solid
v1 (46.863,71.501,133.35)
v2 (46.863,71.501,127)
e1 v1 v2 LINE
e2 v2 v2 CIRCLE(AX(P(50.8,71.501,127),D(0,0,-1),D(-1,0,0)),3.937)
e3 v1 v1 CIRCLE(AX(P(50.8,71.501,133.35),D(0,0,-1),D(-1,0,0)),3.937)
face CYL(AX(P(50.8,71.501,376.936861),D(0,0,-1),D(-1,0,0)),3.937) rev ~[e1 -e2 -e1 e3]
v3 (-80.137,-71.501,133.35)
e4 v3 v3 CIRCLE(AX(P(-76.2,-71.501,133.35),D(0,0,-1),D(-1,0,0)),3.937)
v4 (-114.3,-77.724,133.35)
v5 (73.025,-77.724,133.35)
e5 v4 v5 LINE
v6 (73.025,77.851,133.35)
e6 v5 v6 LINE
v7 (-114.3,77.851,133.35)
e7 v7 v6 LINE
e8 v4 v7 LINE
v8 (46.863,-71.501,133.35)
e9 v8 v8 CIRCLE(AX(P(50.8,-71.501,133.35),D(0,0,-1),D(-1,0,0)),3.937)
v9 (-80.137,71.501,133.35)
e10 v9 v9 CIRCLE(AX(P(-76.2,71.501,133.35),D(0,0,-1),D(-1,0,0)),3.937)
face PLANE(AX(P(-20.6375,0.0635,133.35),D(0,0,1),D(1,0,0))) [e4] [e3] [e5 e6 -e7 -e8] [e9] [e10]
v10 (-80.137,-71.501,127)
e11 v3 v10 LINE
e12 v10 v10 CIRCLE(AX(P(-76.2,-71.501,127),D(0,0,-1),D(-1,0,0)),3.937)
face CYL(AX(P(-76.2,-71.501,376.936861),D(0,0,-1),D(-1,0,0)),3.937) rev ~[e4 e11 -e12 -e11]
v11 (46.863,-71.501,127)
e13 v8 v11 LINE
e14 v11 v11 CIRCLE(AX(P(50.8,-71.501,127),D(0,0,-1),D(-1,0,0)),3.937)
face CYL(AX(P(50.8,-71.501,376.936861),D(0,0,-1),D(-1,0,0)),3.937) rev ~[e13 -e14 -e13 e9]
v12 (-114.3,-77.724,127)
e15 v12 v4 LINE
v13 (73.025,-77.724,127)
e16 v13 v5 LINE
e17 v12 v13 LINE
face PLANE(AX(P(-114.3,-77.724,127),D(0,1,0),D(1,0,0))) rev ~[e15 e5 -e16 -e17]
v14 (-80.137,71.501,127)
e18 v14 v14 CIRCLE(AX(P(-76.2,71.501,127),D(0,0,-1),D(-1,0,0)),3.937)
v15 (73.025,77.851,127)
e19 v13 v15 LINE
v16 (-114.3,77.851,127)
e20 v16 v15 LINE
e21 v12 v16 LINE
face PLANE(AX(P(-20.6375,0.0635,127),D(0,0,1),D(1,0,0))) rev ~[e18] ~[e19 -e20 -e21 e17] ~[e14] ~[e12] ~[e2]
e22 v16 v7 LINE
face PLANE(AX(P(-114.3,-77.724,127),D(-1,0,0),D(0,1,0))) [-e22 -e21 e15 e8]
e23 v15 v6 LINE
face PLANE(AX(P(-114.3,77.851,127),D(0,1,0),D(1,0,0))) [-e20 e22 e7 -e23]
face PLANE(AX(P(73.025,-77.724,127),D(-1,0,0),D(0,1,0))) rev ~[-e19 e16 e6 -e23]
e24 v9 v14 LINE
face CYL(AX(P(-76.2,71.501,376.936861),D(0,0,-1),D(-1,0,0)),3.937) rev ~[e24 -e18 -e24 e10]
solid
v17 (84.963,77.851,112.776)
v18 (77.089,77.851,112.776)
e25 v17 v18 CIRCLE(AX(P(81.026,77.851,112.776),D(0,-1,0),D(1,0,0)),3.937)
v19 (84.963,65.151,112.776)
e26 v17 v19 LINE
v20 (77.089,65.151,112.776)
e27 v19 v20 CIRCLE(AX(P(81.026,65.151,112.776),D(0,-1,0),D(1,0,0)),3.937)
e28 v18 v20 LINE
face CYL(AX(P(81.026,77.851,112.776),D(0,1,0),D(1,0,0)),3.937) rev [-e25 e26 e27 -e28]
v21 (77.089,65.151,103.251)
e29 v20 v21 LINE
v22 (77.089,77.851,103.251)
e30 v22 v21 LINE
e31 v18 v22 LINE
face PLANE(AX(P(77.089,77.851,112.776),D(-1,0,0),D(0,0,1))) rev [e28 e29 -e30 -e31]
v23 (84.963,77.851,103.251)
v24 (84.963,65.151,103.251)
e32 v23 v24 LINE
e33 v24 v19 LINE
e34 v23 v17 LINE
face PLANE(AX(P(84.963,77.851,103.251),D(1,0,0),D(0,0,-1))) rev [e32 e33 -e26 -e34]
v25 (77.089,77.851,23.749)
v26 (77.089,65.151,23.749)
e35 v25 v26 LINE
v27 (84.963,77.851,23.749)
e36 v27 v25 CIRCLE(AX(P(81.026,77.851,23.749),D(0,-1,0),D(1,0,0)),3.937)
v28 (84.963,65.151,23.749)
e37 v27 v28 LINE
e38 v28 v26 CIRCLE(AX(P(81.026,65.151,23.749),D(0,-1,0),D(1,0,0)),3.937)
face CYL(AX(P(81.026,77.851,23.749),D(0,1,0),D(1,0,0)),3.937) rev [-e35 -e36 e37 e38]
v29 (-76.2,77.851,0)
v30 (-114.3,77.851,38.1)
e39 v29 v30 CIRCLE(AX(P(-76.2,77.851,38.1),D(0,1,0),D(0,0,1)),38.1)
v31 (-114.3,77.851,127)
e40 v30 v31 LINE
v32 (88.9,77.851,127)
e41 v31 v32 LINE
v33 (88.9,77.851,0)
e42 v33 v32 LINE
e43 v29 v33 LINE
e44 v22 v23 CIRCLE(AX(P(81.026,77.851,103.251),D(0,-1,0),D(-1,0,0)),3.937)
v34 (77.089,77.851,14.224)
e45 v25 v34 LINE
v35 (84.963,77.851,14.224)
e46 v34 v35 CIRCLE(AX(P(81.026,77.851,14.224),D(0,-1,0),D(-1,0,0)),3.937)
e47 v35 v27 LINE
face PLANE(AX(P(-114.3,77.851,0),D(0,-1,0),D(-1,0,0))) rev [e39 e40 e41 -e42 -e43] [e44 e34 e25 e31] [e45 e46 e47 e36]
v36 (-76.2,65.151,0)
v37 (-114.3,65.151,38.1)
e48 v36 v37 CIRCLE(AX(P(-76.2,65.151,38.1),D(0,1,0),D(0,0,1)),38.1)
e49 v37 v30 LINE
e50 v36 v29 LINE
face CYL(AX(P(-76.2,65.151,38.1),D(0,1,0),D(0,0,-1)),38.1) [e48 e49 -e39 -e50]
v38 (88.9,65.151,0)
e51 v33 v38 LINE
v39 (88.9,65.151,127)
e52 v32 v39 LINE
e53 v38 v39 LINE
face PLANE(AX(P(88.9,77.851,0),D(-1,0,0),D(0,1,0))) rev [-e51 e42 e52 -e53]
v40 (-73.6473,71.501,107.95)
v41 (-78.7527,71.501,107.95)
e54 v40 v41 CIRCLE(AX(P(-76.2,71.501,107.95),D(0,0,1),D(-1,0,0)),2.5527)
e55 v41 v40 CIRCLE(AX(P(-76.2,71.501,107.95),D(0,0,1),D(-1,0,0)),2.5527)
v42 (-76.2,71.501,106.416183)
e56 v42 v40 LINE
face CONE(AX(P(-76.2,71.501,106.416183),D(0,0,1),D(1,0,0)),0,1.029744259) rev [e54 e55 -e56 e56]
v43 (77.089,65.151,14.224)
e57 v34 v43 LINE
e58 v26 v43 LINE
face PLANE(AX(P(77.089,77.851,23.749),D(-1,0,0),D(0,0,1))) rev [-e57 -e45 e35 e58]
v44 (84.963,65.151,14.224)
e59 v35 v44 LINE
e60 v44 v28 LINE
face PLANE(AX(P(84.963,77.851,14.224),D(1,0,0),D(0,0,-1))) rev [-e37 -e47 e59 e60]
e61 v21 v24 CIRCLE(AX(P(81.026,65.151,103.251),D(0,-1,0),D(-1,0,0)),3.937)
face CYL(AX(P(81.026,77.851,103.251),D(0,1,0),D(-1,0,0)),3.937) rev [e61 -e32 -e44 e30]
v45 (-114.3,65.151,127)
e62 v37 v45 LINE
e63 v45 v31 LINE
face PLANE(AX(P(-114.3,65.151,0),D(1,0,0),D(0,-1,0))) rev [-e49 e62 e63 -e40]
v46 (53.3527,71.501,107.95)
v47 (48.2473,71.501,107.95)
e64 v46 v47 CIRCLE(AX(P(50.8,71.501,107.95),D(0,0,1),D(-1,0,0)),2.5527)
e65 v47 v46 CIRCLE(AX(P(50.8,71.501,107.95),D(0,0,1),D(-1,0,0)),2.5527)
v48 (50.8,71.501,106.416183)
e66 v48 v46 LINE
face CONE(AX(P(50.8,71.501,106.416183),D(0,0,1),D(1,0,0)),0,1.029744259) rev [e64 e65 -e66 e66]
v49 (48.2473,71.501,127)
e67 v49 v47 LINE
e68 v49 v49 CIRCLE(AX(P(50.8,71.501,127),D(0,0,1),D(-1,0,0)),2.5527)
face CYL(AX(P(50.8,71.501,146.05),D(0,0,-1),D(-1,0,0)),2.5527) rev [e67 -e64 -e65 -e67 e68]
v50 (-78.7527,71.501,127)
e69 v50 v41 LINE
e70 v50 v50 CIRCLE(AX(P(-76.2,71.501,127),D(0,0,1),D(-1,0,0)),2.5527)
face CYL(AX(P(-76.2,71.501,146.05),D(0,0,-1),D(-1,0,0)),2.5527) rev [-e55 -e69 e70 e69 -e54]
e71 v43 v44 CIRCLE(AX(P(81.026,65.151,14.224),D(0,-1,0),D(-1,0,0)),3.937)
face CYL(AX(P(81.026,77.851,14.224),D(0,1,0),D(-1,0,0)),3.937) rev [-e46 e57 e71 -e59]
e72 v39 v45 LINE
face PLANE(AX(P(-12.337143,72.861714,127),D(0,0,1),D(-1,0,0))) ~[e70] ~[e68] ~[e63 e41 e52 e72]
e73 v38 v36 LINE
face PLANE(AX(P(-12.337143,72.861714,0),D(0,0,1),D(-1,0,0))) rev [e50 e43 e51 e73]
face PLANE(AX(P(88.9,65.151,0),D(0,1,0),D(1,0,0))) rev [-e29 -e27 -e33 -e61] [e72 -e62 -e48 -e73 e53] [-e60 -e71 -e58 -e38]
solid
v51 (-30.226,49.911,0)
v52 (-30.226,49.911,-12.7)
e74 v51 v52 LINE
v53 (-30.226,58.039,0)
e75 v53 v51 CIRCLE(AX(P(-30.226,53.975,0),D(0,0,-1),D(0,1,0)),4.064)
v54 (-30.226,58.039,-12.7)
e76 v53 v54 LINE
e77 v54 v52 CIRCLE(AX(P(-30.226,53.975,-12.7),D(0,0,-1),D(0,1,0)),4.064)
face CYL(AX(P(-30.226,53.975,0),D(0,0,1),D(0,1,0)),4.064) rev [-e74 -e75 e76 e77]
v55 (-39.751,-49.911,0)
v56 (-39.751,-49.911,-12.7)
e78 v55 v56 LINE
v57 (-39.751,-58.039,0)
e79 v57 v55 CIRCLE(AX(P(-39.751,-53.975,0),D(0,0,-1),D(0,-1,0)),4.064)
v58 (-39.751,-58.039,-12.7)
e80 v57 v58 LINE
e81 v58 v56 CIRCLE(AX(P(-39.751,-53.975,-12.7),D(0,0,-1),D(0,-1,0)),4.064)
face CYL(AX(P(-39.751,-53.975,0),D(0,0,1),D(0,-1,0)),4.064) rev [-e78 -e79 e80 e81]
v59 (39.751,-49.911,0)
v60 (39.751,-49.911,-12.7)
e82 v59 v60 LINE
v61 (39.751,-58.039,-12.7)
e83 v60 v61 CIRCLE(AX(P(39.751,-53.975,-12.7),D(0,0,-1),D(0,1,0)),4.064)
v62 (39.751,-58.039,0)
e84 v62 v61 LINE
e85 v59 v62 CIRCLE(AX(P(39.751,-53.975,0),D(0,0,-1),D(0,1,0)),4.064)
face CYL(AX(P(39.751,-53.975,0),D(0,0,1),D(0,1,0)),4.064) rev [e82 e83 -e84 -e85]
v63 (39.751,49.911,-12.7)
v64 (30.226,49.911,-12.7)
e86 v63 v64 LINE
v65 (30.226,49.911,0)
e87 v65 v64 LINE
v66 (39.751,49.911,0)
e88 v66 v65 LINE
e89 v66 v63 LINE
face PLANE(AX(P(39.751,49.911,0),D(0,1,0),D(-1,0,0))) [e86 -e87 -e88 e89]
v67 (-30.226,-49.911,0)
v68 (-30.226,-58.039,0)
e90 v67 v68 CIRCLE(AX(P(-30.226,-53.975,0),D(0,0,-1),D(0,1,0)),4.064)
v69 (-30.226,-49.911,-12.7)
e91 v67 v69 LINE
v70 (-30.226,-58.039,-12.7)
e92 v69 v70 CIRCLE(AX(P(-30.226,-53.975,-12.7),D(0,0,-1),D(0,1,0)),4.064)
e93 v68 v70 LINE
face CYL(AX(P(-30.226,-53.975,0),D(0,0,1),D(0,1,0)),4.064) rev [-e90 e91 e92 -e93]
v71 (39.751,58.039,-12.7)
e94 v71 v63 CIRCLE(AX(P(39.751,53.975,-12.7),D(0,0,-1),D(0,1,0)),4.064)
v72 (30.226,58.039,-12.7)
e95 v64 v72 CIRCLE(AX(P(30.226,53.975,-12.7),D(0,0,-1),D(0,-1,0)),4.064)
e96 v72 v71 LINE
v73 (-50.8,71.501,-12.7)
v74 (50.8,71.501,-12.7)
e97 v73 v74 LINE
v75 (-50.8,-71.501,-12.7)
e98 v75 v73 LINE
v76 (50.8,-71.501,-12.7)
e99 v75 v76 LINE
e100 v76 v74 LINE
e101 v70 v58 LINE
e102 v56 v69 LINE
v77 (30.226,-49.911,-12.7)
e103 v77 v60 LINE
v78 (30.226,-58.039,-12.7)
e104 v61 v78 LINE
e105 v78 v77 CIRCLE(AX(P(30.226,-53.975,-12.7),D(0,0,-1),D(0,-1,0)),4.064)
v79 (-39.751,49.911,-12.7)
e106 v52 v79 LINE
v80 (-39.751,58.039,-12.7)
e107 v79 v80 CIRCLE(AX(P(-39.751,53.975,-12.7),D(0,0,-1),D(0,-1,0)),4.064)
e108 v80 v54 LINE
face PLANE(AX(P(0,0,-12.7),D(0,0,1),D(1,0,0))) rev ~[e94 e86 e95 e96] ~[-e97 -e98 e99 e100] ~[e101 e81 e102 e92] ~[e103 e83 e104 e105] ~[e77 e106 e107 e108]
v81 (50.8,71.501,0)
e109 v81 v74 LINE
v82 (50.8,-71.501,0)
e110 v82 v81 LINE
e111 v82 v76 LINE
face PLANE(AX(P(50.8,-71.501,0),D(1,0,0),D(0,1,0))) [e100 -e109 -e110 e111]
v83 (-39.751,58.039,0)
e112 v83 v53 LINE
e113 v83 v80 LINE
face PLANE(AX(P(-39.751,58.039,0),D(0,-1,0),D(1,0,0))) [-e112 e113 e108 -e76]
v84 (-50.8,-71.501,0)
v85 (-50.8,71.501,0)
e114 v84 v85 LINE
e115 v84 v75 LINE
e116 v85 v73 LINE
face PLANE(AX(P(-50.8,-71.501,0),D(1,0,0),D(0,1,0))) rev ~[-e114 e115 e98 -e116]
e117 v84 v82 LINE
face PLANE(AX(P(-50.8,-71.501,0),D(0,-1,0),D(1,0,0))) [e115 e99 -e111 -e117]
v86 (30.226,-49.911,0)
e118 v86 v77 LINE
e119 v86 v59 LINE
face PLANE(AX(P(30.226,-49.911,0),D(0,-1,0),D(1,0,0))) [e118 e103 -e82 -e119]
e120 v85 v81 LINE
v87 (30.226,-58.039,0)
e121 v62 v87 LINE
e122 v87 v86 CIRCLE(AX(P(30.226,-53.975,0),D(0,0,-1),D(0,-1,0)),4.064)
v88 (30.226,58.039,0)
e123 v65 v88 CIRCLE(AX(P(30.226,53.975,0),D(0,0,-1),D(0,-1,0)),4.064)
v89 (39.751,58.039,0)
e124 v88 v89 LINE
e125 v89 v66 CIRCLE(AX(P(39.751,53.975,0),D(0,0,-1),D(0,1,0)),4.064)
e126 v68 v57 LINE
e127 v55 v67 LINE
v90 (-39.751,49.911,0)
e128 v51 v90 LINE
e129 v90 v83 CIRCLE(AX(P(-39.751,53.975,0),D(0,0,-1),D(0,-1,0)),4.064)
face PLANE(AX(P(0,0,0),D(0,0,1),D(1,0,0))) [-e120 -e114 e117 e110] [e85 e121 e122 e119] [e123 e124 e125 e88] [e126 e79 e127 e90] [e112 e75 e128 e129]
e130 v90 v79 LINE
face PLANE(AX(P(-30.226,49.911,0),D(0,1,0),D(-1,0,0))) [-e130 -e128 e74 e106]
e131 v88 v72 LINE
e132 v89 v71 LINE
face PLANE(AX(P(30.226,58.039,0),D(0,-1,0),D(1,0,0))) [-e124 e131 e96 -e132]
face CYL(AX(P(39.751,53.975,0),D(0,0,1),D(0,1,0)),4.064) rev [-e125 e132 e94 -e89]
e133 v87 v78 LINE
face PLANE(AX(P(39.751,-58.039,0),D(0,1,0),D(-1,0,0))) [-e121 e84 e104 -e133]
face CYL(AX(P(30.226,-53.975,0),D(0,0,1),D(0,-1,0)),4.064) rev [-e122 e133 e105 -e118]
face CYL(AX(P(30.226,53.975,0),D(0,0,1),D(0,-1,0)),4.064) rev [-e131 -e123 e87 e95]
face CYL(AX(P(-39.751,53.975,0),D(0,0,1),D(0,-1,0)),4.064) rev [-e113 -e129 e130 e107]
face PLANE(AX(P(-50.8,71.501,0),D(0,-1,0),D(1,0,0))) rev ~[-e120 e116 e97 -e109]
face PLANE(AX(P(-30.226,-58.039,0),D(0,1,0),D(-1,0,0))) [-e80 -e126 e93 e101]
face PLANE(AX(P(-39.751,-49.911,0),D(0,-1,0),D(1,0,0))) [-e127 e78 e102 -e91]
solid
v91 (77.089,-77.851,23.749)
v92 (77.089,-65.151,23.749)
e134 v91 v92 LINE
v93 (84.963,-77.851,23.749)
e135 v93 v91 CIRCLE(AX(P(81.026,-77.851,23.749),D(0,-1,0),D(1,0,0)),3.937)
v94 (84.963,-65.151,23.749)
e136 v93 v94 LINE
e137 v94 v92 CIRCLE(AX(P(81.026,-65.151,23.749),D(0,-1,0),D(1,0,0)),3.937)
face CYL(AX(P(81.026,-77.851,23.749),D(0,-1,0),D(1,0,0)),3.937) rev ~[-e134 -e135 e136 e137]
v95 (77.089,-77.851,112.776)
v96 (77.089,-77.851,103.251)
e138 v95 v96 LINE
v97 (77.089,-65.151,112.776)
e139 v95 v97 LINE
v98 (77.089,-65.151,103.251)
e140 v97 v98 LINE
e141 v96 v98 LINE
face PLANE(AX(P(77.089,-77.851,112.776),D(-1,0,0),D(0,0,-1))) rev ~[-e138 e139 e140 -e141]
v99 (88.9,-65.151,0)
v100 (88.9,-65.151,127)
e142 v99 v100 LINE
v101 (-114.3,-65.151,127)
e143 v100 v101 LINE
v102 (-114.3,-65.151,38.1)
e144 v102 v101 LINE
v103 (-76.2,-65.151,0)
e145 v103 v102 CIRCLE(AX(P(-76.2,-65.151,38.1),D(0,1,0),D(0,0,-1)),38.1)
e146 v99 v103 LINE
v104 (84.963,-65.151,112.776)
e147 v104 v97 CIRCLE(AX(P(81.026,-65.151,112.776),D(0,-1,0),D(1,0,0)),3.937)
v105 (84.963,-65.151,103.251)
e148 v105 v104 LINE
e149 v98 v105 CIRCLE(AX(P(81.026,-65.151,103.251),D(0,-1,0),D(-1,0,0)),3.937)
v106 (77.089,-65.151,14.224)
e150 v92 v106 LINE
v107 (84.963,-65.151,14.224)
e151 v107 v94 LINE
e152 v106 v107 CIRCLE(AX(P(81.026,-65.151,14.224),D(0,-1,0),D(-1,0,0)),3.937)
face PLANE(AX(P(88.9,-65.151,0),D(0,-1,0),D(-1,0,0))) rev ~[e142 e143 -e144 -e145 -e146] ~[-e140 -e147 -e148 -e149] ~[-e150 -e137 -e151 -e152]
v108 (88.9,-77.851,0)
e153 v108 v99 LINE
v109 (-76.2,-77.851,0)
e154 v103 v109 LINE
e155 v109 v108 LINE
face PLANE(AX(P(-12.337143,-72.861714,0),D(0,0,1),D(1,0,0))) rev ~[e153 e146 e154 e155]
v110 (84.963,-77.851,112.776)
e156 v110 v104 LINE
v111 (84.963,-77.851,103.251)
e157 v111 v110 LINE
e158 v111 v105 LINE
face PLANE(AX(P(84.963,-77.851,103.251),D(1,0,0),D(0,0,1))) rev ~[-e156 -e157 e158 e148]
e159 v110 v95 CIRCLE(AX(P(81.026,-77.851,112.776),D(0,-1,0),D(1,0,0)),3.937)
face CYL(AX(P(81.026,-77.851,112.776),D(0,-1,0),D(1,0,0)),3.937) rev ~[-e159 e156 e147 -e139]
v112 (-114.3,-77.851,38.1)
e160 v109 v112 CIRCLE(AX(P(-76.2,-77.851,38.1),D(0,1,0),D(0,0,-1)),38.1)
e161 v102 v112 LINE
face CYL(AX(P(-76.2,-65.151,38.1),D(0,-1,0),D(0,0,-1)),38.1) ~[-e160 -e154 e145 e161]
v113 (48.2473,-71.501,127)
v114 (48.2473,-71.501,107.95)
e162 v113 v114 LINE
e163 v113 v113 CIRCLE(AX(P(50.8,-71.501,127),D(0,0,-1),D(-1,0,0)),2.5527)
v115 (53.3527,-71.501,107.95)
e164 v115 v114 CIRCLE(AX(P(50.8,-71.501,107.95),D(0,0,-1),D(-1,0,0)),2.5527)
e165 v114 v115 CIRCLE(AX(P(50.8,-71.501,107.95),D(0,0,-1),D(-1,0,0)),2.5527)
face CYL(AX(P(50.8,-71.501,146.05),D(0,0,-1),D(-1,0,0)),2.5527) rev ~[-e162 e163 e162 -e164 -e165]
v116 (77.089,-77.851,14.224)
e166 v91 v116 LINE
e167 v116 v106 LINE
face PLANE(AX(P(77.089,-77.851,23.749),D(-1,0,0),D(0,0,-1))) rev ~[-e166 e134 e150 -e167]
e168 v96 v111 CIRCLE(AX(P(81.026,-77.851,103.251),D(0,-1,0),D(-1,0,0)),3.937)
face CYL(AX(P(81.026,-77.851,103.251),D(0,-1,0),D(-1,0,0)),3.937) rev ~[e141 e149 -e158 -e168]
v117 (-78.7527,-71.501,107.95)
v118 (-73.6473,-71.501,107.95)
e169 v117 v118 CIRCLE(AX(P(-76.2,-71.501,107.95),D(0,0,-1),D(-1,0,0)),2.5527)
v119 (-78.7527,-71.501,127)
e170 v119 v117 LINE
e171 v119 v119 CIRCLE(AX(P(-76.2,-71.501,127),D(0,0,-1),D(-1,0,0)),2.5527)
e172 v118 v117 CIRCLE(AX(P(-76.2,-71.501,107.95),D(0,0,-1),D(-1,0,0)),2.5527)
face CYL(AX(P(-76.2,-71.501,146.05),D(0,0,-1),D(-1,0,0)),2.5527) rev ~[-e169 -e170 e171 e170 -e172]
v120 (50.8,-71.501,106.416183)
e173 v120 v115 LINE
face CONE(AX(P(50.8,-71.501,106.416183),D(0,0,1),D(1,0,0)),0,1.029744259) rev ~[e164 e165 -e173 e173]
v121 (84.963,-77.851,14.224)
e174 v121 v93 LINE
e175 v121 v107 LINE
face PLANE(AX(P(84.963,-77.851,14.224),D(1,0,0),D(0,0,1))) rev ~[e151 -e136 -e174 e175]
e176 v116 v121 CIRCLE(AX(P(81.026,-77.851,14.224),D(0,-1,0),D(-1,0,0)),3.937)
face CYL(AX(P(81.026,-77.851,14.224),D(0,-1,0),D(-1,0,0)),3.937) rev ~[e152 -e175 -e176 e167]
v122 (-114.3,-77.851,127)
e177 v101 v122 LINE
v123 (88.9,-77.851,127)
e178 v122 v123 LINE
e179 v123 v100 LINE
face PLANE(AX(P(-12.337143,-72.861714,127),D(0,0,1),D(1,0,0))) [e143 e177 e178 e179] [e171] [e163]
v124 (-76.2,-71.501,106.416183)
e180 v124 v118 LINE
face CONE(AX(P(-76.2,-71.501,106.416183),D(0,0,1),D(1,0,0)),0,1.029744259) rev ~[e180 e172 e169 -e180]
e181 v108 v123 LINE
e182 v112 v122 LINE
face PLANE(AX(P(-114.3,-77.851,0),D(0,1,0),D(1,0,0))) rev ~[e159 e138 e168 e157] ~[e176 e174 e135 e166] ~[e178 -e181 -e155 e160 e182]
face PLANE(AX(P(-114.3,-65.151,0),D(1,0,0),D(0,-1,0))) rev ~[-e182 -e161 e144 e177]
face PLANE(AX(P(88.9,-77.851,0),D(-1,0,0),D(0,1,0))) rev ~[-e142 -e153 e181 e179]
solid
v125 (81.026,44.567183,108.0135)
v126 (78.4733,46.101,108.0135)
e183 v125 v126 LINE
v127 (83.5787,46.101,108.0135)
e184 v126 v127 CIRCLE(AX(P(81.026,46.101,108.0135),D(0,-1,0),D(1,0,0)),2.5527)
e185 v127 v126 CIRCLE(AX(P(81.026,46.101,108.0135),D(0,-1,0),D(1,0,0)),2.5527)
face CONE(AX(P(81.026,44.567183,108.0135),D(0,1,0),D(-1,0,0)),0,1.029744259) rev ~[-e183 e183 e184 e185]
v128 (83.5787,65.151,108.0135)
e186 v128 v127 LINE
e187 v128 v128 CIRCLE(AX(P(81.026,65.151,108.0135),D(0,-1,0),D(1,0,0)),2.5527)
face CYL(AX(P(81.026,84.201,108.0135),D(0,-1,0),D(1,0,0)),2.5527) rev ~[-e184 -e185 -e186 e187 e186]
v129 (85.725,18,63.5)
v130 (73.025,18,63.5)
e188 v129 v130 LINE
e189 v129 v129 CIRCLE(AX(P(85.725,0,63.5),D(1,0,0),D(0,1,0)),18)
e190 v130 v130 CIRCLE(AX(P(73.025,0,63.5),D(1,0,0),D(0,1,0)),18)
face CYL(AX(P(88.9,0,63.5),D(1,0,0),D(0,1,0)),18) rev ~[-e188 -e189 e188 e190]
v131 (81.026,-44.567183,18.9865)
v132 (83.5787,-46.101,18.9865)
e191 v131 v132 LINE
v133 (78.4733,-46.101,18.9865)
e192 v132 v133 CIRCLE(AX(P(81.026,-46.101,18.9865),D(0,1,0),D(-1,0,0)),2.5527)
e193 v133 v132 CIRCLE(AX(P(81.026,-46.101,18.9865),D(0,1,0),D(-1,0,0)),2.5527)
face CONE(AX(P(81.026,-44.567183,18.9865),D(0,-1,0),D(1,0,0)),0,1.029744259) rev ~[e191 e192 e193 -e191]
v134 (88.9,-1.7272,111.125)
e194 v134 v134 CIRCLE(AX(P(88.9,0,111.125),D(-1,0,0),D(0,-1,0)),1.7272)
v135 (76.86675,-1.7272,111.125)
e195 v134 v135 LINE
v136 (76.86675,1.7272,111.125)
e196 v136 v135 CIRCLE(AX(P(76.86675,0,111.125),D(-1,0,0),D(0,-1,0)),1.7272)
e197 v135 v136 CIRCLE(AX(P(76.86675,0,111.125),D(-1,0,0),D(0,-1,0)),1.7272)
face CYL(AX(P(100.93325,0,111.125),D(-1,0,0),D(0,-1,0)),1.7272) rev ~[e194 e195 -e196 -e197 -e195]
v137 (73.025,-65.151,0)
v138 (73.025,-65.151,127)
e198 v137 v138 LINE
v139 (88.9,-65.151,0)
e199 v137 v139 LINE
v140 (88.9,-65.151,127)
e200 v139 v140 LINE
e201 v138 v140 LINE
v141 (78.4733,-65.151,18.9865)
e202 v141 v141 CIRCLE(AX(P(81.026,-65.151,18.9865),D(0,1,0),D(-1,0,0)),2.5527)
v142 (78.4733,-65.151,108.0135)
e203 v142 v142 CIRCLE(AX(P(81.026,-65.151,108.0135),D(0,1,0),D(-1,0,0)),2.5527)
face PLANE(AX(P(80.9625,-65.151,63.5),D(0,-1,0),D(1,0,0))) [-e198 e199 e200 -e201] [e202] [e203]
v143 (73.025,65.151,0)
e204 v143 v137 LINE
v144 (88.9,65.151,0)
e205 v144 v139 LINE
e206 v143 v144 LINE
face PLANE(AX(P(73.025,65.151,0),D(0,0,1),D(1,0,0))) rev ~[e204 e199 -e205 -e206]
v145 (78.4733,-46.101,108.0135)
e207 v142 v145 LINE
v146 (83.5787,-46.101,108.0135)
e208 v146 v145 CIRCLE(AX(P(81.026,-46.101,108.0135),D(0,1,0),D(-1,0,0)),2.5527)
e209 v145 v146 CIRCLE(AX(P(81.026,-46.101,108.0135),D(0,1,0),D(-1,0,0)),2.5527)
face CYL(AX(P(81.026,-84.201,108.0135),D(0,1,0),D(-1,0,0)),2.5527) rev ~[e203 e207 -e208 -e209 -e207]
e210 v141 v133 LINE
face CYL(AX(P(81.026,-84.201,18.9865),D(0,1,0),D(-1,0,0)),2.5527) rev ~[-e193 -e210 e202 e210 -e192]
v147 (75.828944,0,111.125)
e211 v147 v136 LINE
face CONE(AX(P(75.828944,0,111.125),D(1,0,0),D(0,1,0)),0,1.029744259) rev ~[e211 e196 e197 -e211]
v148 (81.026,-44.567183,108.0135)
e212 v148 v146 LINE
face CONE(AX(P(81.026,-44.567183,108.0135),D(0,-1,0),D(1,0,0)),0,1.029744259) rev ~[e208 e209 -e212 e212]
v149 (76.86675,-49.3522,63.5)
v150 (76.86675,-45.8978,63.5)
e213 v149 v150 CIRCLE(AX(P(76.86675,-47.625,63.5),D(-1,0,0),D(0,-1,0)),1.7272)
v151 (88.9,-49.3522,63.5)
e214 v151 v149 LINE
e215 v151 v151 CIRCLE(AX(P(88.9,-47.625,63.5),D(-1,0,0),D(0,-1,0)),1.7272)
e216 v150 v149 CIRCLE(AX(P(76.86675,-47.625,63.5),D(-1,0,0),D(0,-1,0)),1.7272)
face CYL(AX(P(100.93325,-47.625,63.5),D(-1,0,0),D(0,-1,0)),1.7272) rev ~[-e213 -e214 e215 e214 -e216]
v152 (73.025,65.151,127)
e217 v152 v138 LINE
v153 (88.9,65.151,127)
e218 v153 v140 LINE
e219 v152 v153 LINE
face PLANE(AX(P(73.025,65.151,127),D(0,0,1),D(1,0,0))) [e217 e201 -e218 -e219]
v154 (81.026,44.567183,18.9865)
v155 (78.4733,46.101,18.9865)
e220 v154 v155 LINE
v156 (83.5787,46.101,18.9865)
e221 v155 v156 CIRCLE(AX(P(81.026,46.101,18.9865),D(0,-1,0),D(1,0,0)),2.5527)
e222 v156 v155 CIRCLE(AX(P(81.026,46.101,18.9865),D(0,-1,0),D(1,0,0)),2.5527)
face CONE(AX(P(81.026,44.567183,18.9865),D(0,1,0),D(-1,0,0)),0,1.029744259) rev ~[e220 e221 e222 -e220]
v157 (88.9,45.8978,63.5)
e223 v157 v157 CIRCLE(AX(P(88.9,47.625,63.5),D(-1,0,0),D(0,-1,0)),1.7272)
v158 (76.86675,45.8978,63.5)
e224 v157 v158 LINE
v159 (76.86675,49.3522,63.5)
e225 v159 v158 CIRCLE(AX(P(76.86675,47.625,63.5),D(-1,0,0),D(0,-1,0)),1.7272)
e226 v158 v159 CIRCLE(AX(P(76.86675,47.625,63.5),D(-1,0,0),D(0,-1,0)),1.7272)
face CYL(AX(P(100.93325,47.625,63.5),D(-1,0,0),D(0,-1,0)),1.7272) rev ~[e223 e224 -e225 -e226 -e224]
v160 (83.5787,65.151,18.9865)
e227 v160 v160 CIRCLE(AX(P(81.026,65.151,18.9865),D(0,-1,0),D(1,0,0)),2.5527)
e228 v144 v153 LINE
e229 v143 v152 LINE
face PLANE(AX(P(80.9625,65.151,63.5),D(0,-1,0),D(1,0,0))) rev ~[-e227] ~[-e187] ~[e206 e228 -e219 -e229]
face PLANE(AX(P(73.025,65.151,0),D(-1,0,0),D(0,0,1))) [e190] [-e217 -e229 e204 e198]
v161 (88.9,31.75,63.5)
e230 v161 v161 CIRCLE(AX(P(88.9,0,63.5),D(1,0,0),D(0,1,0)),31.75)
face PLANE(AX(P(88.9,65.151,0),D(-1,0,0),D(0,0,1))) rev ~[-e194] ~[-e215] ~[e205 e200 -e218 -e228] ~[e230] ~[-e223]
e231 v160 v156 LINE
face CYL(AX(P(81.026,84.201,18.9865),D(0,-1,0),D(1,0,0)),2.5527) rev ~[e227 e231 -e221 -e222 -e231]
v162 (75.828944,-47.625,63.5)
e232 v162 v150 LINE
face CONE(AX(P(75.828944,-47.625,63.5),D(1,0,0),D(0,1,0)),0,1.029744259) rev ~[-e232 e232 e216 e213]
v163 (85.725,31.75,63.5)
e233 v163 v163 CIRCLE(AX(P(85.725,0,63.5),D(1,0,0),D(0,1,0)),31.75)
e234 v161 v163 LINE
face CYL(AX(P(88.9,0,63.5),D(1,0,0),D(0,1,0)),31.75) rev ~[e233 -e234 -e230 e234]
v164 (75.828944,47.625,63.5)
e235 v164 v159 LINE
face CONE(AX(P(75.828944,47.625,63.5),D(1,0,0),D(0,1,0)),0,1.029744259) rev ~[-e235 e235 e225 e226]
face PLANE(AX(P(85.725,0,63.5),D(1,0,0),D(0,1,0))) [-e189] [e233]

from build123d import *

# Parameters (mm, degrees)
F0_W      = 101.6
F0_H      = 143.002
F1_DEPTH  = 12.7
F2_W      = 101.6
F2_H      = 6.35
F3_DEPTH  = 127
F5_D      = 5.1054
F5_DEPTH  = 19.05
F5_TIP    = 1.5338169022
F7_DEPTH  = 25.4
F9_W      = 187.325
F9_H      = 155.575
F10_DEPTH = 6.35
F12_D     = 7.874
F13_W     = 15.875
F13_H     = 127
F14_DEPTH = 130.302
F16_D     = 5.1054
F16_DEPTH = 19.05
F16_TIP   = 1.5338169022
F18_D     = 5.1054
F18_DEPTH = 19.05
F18_TIP   = 1.5338169022
F19_R     = 18
F20_DEPTH = 25.4
F21_R     = 31.75
F22_DEPTH = 3.175
F24_D     = 3.4544
F24_DEPTH = 12.03325
F24_TIP   = 1.0378064612
F25_R     = 38.1
F25_2_R   = 38.1


with BuildPart() as f1:
    # F0 (on Top) → F1 (new body)
    with BuildSketch(Plane.XY):
        Rectangle(F0_W, F0_H)
        with BuildLine():
            Line((-30.226, -58.039), (-39.751, -58.039))
            ThreePointArc((-39.751, -58.039), (-43.815, -53.975), (-39.751, -49.911))
            Line((-39.751, -49.911), (-30.226, -49.911))
            ThreePointArc((-30.226, -49.911), (-26.162, -53.975), (-30.226, -58.039))
        make_face(mode=Mode.SUBTRACT)
        with BuildLine():
            ThreePointArc((39.751, -49.911), (43.815, -53.975), (39.751, -58.039))
            Line((39.751, -58.039), (30.226, -58.039))
            ThreePointArc((30.226, -58.039), (26.162, -53.975), (30.226, -49.911))
            Line((30.226, -49.911), (39.751, -49.911))
        make_face(mode=Mode.SUBTRACT)
        with BuildLine():
            ThreePointArc((-39.751, 49.911), (-43.815, 53.975), (-39.751, 58.039))
            Line((-39.751, 58.039), (-30.226, 58.039))
            ThreePointArc((-30.226, 58.039), (-26.162, 53.975), (-30.226, 49.911))
            Line((-30.226, 49.911), (-39.751, 49.911))
        make_face(mode=Mode.SUBTRACT)
        with BuildLine():
            ThreePointArc((39.751, 58.039), (43.815, 53.975), (39.751, 49.911))
            Line((39.751, 49.911), (30.226, 49.911))
            ThreePointArc((30.226, 49.911), (26.162, 53.975), (30.226, 58.039))
            Line((30.226, 58.039), (39.751, 58.039))
        make_face(mode=Mode.SUBTRACT)
    extrude(amount=-F1_DEPTH)


with BuildPart() as f3:
    # F2 (on face) → F3 (new body)
    with BuildSketch(Plane.XY):
        Polygon((88.9, -77.851), (88.9, -65.151), (50.8, -65.151), (50.8, -71.501), (-50.8, -71.501), (-50.8, -65.151), (-114.3, -65.151), (-114.3, -77.851), align=None)
        with Locations((0, -68.326)):
            Rectangle(F2_W, F2_H)
    extrude(amount=F3_DEPTH)

    # F5
    with Locations(Plane.XY.offset(127)):
        with Locations((-76.2, -71.501), (50.8, -71.501)):
            Hole(F5_D / 2, depth=F5_DEPTH)
            with Locations((0, 0, -(F5_DEPTH + F5_TIP / 2))):  # 118° drill point
                Cone(0, F5_D / 2, F5_TIP, mode=Mode.SUBTRACT)

    # F6 (on face) → F7 (cut)
    with BuildSketch(Plane.XZ.offset(77.851)):
        with BuildLine():
            ThreePointArc((77.089, 14.224), (81.026, 10.287), (84.963, 14.224))
            Line((84.963, 14.224), (84.963, 23.749))
            ThreePointArc((84.963, 23.749), (81.026, 27.686), (77.089, 23.749))
            Line((77.089, 23.749), (77.089, 14.224))
        make_face()
        with BuildLine():
            Line((84.963, 103.251), (84.963, 112.776))
            ThreePointArc((84.963, 112.776), (81.026, 116.713), (77.089, 112.776))
            Line((77.089, 112.776), (77.089, 103.251))
            ThreePointArc((77.089, 103.251), (81.026, 99.314), (84.963, 103.251))
        make_face()
    extrude(amount=-F7_DEPTH, mode=Mode.SUBTRACT)


with BuildPart() as f8_1:
    # F8: instance of F3
    add(f3.part.mirror(Plane.XZ))

    # F25
    f25_edges = [f8_1.edges().sort_by_distance(p)[0] for p in [
        (-114.3, 71.501, 0),
    ]]
    fillet(f25_edges, radius=F25_R)


with BuildPart() as f10:
    # F9 (on face) → F10 (new body)
    with BuildSketch(Plane.XY.offset(127)):
        with Locations((-20.6375, 0.0635)):
            Rectangle(F9_W, F9_H)
    extrude(amount=F10_DEPTH)

    # F12 (through all)
    with Locations(Plane.XY.offset(133.35)):
        with Locations((-76.2, 71.501), (50.8, 71.501), (-76.2, -71.501), (50.8, -71.501)):
            Hole(F12_D / 2)


with BuildPart() as f14:
    # F13 (on face) → F14 (new body, through all)
    with BuildSketch(Plane.XZ.offset(-65.151)):
        with Locations((80.9625, 63.5)):
            Rectangle(F13_W, F13_H)
    extrude(amount=F14_DEPTH)

    # F16
    with Locations(Plane.XZ.offset(65.151)):
        with Locations((81.026, 108.0135), (81.026, 18.9865)):
            Hole(F16_D / 2, depth=F16_DEPTH)
            with Locations((0, 0, -(F16_DEPTH + F16_TIP / 2))):  # 118° drill point
                Cone(0, F16_D / 2, F16_TIP, mode=Mode.SUBTRACT)

    # F18
    with Locations(Plane(origin=(0, 65.151, 0), x_dir=(-1, 0, 0), z_dir=(0, 1, 0))):
        with Locations((-81.026, 108.0135), (-81.026, 18.9865)):
            Hole(F18_D / 2, depth=F18_DEPTH)
            with Locations((0, 0, -(F18_DEPTH + F18_TIP / 2))):  # 118° drill point
                Cone(0, F18_D / 2, F18_TIP, mode=Mode.SUBTRACT)

    # F19 (on face) → F20 (cut)
    with BuildSketch(Plane.YZ.offset(88.9)):
        with Locations((0, 63.5)):
            Circle(F19_R)
    extrude(amount=-F20_DEPTH, mode=Mode.SUBTRACT)

    # F21 (on face) → F22 (cut)
    with BuildSketch(Plane.YZ.offset(88.9)):
        with Locations((0, 63.5)):
            Circle(F21_R)
    extrude(amount=-F22_DEPTH, mode=Mode.SUBTRACT)

    # F24
    with Locations(Plane.YZ.offset(88.9)):
        with Locations((0, 111.125), (47.625, 63.5), (-47.625, 63.5)):
            Hole(F24_D / 2, depth=F24_DEPTH)
            with Locations((0, 0, -(F24_DEPTH + F24_TIP / 2))):  # 118° drill point
                Cone(0, F24_D / 2, F24_TIP, mode=Mode.SUBTRACT)


with BuildPart() as f3_1:
    add(f3.part)

    # F25#2
    f25_2_edges = [f3_1.edges().sort_by_distance(p)[0] for p in [
        (-114.3, -71.501, 0),
    ]]
    fillet(f25_2_edges, radius=F25_2_R)


solid = Compound([f1.part, f8_1.part, f10.part, f14.part, f3_1.part])
